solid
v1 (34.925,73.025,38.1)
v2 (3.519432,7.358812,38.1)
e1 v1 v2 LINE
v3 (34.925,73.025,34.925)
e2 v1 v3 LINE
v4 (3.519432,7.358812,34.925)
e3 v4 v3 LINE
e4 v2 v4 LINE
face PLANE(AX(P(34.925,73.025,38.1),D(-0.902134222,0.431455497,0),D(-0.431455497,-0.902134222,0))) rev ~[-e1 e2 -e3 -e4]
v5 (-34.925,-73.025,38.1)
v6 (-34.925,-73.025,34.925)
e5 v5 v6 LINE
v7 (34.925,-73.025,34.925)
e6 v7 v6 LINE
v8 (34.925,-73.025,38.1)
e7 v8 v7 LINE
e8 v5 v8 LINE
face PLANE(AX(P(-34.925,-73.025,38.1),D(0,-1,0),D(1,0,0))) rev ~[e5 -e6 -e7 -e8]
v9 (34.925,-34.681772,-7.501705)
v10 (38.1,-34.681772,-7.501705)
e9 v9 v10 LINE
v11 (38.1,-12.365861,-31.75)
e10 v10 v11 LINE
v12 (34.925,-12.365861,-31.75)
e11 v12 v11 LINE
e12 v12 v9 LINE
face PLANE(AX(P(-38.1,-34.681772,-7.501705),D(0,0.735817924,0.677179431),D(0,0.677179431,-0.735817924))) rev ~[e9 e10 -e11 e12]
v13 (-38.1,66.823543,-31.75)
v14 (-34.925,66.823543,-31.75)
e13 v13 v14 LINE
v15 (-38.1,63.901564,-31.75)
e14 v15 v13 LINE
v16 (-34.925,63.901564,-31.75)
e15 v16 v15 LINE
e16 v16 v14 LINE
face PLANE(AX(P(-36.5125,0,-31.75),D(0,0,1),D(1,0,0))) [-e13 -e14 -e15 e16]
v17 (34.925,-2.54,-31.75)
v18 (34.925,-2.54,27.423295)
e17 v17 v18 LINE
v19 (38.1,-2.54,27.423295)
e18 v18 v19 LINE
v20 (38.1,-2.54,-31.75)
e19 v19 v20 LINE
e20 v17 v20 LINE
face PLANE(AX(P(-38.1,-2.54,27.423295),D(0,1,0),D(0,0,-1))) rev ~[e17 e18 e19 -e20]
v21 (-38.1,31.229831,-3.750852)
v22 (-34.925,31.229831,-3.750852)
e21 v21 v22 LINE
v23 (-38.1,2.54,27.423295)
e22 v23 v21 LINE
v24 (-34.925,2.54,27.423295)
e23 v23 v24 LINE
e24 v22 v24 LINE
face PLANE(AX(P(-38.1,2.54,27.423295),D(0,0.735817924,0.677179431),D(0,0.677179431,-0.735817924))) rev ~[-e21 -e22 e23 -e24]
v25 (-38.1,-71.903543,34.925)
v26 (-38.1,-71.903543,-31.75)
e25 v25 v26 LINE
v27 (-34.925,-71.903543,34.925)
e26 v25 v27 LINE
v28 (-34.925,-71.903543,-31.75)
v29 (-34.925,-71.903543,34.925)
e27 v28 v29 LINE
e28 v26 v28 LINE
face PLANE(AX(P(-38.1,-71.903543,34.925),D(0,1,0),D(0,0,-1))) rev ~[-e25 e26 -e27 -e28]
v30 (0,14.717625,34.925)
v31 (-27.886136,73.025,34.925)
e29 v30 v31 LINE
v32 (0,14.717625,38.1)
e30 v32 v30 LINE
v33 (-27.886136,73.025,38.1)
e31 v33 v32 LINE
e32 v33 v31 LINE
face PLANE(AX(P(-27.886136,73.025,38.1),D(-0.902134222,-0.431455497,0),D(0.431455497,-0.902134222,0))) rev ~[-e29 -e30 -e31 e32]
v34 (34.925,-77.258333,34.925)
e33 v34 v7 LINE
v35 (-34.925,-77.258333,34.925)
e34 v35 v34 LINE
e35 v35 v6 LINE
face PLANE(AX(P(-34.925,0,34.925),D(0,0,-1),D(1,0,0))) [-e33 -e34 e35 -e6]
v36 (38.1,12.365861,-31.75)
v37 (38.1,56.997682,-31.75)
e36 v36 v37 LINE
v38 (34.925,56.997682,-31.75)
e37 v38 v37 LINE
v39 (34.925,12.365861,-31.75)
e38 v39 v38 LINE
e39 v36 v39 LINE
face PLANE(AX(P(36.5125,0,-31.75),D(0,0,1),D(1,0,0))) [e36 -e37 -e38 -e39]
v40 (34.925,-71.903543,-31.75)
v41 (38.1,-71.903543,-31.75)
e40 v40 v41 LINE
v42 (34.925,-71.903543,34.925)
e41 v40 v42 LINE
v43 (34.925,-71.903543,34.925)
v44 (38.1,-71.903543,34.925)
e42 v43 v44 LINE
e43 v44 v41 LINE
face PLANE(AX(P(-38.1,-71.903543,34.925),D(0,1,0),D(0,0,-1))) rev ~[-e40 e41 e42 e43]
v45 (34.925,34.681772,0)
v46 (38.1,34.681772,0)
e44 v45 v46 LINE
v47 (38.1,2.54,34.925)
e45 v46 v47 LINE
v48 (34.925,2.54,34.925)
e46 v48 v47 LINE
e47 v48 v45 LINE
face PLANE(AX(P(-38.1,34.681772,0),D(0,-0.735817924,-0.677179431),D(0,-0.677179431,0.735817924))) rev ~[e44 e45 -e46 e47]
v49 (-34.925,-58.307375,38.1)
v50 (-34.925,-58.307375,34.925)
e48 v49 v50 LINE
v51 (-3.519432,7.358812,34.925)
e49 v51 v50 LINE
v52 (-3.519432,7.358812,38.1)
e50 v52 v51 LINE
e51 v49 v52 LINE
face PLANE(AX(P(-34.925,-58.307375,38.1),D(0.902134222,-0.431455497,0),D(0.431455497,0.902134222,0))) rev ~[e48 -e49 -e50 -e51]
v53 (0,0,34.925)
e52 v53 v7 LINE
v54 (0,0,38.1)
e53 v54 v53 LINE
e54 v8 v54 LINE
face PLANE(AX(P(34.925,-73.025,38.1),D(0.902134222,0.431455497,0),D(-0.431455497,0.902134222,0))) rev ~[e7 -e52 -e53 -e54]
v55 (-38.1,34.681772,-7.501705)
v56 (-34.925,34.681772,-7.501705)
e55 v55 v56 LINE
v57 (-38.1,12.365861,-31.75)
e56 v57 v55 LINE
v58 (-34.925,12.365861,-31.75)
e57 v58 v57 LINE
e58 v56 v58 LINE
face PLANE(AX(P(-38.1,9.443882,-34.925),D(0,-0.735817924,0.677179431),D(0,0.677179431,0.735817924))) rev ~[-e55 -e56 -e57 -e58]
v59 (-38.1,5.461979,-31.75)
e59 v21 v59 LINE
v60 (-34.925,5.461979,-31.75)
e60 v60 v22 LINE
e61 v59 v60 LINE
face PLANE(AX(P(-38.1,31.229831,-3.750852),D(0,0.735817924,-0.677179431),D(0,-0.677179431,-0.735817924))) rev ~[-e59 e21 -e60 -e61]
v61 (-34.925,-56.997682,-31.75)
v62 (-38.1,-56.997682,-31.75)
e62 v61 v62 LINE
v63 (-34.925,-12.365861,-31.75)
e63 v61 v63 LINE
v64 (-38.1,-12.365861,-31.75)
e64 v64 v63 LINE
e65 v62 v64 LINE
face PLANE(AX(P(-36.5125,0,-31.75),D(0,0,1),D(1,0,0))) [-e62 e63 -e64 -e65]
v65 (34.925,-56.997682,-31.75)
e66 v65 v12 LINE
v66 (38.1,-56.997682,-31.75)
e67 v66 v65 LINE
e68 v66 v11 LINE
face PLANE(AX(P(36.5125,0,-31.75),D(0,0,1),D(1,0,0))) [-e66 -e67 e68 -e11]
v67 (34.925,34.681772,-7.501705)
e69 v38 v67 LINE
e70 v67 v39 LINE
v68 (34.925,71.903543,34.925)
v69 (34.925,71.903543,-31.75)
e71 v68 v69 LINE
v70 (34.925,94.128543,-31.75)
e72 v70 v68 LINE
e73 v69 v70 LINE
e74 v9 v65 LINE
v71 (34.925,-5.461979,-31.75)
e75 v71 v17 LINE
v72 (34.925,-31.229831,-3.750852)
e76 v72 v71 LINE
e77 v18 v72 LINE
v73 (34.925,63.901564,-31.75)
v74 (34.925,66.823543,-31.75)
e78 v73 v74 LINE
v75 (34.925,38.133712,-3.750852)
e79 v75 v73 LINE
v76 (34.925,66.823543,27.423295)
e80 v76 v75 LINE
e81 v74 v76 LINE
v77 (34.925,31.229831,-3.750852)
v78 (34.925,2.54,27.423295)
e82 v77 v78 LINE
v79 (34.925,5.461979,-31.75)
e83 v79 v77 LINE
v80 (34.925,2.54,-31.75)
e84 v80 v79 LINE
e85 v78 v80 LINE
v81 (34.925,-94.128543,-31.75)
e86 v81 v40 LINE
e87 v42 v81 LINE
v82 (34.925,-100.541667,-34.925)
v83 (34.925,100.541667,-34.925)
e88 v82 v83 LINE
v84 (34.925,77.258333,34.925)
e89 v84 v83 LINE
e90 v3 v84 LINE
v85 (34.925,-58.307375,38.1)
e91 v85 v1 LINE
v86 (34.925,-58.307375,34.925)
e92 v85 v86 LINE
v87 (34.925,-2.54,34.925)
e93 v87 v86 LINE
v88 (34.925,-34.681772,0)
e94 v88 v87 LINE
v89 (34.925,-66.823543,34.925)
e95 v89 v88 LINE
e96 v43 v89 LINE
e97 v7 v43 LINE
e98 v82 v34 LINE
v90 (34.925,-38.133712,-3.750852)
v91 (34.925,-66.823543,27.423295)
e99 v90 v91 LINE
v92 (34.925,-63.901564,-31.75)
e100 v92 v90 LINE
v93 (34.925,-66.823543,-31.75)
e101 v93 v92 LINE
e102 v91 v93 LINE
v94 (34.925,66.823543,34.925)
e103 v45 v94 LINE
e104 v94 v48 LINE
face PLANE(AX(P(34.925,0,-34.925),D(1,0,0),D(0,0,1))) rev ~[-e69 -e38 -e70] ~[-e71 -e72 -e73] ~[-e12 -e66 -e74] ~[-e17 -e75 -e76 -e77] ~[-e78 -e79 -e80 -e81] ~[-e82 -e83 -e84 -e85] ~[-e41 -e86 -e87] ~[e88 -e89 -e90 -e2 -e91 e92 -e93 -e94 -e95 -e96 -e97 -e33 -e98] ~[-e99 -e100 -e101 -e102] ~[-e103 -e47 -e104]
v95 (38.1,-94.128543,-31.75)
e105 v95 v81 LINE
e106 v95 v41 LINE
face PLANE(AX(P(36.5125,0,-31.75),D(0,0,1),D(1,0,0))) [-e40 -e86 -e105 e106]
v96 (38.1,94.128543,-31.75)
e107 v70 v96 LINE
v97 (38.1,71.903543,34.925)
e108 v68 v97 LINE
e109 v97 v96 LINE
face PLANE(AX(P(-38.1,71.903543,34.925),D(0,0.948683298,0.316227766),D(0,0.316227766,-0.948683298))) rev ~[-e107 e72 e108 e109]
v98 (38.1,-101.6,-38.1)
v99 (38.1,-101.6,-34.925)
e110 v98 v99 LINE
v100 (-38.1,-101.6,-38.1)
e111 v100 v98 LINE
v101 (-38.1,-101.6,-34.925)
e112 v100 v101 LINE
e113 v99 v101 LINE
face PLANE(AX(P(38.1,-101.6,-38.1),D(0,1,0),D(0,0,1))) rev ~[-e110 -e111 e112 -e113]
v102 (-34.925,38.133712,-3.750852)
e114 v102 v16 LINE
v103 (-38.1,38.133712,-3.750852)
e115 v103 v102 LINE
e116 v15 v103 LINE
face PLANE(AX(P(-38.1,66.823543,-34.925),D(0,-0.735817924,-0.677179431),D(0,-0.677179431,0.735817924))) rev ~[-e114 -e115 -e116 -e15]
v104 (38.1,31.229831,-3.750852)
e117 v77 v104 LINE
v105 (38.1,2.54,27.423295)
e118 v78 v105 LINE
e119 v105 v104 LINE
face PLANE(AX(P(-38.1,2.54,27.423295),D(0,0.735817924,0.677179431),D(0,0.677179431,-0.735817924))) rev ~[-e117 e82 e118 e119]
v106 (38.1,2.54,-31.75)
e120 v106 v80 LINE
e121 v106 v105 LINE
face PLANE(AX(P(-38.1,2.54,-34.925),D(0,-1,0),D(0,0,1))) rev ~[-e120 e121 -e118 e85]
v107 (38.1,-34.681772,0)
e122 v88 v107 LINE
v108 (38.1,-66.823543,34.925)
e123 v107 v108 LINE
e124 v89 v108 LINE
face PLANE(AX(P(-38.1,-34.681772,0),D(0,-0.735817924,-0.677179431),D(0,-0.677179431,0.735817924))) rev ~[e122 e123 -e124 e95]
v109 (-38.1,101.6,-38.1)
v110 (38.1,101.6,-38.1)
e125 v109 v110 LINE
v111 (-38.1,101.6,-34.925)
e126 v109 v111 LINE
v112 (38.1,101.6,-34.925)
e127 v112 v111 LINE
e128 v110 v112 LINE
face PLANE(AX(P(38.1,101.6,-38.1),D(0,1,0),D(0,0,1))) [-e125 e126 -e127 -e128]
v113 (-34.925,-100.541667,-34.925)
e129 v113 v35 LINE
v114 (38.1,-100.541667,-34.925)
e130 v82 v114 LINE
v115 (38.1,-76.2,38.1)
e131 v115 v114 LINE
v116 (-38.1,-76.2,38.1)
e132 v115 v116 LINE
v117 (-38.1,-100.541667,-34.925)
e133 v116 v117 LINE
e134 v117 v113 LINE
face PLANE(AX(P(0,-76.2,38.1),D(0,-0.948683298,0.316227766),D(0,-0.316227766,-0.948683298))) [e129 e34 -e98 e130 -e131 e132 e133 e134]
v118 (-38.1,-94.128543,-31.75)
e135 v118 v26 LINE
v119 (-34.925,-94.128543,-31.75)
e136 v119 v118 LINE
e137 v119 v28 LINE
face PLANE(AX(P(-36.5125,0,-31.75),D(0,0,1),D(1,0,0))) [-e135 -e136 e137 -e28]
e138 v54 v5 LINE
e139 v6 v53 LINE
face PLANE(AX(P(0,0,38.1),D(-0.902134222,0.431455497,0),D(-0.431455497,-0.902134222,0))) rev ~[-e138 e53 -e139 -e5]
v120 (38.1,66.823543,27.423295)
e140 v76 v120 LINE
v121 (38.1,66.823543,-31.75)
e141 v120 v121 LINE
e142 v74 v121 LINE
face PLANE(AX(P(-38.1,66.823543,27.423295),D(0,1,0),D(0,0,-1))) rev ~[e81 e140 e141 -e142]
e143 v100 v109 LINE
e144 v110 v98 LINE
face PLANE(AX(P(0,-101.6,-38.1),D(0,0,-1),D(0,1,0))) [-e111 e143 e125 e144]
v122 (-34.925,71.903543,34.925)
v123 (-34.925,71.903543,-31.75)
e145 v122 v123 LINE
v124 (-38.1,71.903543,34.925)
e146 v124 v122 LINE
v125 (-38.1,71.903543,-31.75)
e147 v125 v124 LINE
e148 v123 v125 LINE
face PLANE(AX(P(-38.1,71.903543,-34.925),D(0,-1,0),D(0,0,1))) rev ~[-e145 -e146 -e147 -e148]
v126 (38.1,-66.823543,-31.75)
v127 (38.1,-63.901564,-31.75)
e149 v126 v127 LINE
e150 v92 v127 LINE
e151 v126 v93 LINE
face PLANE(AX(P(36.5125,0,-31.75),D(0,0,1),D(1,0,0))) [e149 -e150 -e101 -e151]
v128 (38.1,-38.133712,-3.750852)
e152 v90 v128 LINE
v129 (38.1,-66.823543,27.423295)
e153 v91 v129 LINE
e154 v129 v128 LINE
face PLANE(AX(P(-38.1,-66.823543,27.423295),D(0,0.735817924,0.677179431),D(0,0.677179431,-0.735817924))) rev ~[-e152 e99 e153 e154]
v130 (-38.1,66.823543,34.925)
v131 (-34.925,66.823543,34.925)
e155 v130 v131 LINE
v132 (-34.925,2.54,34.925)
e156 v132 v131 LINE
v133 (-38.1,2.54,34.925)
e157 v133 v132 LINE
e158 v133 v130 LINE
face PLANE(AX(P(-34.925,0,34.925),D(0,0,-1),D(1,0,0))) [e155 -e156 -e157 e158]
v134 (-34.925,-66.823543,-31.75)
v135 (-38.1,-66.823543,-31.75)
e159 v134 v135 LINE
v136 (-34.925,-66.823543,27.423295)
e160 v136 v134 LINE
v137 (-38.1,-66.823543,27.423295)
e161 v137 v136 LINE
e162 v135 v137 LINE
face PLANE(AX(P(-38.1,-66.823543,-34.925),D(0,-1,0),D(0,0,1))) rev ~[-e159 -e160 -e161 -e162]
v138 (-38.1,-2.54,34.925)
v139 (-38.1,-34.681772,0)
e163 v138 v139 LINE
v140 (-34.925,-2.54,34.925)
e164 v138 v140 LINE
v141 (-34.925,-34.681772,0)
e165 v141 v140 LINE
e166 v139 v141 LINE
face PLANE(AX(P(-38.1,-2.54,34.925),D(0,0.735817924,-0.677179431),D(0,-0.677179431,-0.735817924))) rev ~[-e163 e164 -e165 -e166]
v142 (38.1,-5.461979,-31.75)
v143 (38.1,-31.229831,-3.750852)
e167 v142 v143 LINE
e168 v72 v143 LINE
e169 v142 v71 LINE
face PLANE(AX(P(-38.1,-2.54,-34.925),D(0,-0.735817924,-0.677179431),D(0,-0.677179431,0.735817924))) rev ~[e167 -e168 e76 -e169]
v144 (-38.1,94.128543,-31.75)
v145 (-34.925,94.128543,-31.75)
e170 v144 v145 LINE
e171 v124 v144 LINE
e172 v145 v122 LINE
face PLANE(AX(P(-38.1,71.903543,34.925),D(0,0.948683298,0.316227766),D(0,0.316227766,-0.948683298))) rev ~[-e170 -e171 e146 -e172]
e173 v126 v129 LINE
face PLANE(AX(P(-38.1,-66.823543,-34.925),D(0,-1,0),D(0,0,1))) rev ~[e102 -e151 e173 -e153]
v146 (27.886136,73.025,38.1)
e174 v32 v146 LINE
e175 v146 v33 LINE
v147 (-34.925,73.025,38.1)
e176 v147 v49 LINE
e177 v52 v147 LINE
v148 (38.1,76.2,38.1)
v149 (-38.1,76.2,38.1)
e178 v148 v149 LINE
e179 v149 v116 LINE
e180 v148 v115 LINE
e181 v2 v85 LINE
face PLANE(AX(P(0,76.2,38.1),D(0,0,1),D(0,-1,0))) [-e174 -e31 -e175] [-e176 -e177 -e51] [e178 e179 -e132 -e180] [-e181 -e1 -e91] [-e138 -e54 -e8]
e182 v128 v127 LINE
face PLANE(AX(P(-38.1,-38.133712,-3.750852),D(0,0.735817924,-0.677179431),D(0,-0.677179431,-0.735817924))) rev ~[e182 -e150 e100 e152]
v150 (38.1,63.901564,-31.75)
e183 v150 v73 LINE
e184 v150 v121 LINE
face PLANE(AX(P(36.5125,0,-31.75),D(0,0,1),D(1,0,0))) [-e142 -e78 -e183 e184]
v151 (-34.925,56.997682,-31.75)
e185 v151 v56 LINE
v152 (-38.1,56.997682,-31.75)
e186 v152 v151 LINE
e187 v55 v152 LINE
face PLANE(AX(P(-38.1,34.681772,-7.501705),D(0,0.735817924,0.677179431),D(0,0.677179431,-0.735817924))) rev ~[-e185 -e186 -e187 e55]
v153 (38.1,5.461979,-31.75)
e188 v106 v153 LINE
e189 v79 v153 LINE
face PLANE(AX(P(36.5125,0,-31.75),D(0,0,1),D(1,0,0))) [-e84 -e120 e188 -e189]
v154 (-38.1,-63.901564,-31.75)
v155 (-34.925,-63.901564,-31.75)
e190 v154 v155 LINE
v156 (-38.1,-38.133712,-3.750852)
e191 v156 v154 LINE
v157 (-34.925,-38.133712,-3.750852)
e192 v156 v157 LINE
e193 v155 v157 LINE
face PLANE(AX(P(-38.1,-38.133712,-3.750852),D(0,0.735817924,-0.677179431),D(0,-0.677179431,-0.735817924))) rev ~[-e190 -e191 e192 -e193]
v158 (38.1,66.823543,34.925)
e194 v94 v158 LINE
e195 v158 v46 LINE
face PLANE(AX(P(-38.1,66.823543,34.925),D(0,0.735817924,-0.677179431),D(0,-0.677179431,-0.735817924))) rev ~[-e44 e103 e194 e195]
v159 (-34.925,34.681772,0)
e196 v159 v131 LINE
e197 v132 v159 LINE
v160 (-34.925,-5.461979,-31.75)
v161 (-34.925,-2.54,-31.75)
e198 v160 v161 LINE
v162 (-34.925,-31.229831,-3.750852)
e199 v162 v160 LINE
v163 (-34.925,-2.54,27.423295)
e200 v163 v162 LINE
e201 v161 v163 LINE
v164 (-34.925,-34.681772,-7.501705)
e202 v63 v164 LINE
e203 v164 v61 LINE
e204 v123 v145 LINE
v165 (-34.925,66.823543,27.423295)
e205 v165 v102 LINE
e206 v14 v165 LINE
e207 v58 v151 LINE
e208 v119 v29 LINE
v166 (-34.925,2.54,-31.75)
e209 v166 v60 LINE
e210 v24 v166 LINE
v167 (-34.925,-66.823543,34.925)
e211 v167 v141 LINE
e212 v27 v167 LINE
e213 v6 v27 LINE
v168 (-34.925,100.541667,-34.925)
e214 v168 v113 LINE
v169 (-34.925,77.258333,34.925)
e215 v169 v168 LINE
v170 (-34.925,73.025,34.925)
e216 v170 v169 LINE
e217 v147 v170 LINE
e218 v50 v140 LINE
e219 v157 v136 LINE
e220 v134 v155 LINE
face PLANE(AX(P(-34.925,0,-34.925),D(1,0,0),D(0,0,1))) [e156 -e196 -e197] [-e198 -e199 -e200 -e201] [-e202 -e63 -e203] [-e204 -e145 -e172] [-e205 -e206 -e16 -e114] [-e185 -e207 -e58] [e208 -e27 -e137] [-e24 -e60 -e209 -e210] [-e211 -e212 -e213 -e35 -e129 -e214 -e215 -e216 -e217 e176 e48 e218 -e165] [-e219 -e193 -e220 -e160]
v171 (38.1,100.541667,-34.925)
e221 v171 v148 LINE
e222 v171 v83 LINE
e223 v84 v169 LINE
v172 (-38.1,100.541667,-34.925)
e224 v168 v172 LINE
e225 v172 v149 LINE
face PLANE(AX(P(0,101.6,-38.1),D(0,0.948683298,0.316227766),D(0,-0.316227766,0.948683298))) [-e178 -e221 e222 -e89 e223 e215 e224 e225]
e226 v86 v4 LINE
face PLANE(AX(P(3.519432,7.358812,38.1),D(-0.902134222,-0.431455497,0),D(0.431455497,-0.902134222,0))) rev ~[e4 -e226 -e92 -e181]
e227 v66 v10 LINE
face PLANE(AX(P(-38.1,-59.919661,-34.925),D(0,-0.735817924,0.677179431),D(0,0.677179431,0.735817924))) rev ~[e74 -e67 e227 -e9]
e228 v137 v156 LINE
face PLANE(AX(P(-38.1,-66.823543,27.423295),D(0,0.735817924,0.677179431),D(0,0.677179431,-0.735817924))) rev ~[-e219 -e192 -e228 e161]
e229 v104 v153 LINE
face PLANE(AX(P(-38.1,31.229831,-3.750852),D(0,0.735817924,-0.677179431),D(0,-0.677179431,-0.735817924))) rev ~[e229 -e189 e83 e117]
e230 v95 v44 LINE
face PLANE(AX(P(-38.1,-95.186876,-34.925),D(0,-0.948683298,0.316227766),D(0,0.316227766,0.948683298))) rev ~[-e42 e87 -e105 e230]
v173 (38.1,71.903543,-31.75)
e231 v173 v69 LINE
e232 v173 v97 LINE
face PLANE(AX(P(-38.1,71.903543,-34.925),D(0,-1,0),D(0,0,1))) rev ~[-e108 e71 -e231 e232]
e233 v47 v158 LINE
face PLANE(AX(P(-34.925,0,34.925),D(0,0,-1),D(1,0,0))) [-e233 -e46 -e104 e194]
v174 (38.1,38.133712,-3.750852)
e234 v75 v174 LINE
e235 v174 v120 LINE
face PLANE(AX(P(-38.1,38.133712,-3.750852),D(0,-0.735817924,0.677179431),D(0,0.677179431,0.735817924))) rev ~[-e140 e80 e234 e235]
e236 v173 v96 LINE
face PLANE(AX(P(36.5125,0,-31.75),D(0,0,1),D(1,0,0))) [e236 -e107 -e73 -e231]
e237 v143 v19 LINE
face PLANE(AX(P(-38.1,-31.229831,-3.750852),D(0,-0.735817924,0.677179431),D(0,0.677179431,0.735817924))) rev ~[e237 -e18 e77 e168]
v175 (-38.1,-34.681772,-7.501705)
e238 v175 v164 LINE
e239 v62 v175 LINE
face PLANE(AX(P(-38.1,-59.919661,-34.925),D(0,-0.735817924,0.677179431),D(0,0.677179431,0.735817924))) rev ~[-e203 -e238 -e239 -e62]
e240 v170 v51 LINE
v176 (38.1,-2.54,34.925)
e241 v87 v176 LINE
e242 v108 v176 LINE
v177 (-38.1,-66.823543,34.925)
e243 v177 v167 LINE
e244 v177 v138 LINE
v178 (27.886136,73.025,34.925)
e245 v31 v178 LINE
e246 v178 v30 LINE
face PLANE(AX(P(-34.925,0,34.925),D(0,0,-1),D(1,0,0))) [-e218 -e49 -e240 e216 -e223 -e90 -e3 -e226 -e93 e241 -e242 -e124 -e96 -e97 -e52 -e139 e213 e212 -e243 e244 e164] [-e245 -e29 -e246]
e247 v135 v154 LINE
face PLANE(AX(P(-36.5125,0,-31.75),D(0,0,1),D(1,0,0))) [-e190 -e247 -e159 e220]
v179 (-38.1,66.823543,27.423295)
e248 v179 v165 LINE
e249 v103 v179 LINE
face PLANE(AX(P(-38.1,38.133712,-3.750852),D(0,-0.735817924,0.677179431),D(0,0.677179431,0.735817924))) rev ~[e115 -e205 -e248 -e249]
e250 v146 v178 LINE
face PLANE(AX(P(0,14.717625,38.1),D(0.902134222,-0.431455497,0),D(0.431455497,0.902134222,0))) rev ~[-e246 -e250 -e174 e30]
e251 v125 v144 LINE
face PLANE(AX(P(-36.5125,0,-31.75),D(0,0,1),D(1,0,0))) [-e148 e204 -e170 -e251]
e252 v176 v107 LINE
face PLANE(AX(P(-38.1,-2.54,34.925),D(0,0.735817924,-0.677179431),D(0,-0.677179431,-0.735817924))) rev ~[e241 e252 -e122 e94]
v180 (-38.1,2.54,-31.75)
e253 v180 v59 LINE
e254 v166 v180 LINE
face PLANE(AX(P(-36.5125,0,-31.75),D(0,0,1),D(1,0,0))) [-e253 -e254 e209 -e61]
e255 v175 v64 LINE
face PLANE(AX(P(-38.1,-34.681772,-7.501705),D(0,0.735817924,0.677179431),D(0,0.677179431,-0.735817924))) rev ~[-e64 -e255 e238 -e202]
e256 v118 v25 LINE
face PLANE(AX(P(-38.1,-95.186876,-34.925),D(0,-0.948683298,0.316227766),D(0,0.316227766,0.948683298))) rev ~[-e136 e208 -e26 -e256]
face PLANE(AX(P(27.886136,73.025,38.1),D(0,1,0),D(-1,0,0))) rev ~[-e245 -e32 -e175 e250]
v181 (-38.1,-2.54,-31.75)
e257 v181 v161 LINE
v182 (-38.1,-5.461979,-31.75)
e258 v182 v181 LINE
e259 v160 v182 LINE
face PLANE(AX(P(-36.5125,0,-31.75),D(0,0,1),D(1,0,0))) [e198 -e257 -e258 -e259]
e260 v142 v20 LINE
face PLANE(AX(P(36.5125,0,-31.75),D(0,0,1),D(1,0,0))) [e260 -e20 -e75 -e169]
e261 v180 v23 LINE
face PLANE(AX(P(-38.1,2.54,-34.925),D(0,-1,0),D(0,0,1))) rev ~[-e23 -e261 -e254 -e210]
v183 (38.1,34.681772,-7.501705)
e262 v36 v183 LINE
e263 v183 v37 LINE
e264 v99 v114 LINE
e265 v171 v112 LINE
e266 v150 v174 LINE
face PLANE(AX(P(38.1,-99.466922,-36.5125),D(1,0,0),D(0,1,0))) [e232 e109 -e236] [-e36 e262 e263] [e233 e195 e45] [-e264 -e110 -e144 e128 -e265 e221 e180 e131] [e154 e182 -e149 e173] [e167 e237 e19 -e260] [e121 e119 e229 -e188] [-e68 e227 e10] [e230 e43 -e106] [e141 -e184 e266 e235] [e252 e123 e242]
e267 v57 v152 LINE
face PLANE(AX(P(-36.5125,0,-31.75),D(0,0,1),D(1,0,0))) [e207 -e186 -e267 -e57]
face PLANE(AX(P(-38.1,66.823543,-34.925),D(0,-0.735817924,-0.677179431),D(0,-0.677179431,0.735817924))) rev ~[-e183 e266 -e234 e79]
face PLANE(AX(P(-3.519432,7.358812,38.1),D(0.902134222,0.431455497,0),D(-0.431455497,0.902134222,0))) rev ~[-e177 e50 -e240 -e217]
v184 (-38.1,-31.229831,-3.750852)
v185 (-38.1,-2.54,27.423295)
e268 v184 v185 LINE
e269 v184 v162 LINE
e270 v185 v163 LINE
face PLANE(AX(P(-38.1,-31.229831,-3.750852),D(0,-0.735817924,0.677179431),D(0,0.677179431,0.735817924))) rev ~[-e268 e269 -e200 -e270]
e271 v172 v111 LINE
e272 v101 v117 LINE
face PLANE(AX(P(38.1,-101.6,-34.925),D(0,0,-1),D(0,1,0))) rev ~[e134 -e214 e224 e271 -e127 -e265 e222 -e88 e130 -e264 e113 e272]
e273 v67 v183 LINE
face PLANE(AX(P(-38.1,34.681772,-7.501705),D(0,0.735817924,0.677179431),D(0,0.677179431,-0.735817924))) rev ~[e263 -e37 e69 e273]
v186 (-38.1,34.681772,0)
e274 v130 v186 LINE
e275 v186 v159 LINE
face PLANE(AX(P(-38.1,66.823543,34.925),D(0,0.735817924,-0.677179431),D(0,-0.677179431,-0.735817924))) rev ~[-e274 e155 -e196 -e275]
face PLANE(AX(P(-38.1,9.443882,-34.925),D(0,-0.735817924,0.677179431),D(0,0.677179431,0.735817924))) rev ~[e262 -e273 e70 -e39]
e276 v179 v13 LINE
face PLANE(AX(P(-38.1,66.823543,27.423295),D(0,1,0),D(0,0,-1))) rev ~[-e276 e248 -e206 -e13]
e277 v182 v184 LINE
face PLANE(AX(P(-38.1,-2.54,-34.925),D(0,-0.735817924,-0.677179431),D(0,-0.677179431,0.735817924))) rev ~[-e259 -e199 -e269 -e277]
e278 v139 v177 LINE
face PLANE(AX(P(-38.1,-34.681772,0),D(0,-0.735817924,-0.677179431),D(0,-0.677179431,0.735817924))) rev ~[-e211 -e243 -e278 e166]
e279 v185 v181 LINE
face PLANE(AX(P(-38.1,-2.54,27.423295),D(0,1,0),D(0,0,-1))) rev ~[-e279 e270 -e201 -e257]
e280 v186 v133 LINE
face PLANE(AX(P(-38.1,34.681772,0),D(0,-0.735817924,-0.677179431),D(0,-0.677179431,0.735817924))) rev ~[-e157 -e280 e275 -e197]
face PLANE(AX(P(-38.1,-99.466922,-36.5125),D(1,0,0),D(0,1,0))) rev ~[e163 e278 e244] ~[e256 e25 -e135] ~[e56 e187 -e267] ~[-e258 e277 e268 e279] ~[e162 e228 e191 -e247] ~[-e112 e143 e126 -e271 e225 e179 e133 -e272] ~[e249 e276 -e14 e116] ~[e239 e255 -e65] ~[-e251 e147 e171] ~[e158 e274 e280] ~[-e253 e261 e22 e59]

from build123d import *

# Parameters (mm, degrees)
F1_DEPTH  = 38.1
F2_W      = 69.85
F2_H      = 69.85
F3_DEPTH  = 127
F5_DEPTH  = 76.2
F7_DEPTH  = 25.4
F8_W      = 3.175
F8_H      = 190.3737529909
F9_DEPTH  = 3.175
F10_W     = 4.2661567543
F10_H     = 3.175
F11_DEPTH = 76.2


with BuildPart() as f1:
    # F0 (on Right) → F1 (new body, symmetric)
    with BuildSketch(Plane.YZ):
        Polygon((-76.2, 38.1), (-101.6, -38.1), (101.6, -38.1), (76.2, 38.1), align=None)
    extrude(amount=F1_DEPTH, both=True)

    # F2 (on Front) → F3 (cut, symmetric)
    with BuildSketch(Plane.XZ):
        Rectangle(F2_W, F2_H)
    extrude(amount=F3_DEPTH, both=True, mode=Mode.SUBTRACT)

    # F4 (on face) → F5 (cut)
    with BuildSketch(Plane(origin=(-38.1, 0, 0), x_dir=(0, -1, 0), z_dir=(-1, 0, 0))):
        Polygon((-71.9035431621, 34.925), (-95.1868764954, -34.925), (-71.9035431621, -34.925), align=None)
        Polygon((-66.8235431621, 27.423295483), (-66.8235431621, -34.925), (-38.1337124981, -3.7508522585), align=None)
        Polygon((-2.54, 34.925), (-66.8235431621, 34.925), (-34.6817715811, 0), align=None)
        Polygon((-2.54, -34.925), (-2.54, 27.423295483), (-31.229830664, -3.7508522585), align=None)
        Polygon((-34.6817715811, -7.501704517), (-59.9196613281, -34.925), (-9.443881834, -34.925), align=None)
        Polygon((31.229830664, -3.7508522585), (2.54, 27.423295483), (2.54, -34.925), align=None)
        Polygon((66.8235431621, 34.925), (2.54, 34.925), (34.6817715811, 0), align=None)
        Polygon((66.8235431621, -34.925), (66.8235431621, 27.423295483), (38.1337124981, -3.7508522585), align=None)
        Polygon((34.6817715811, -7.501704517), (9.443881834, -34.925), (59.9196613281, -34.925), align=None)
        Polygon((95.1868764954, -34.925), (71.9035431621, 34.925), (71.9035431621, -34.925), align=None)
    extrude(amount=-F5_DEPTH, mode=Mode.SUBTRACT)

    # F6 (on face) → F7 (cut)
    with BuildSketch(Plane.XY.offset(38.1)):
        Polygon((-34.925, 73.025), (-34.925, -58.3073754949), (-3.5194319469, 7.3588122526), align=None)
        Polygon((-34.925, -73.025), (34.925, -73.025), (0, 0), align=None)
        Polygon((3.5194319469, 7.3588122526), (34.925, -58.3073754949), (34.925, 73.025), align=None)
        Polygon((0, 14.7176245051), (27.8861361062, 73.025), (-27.8861361062, 73.025), align=None)
    extrude(amount=-F7_DEPTH, mode=Mode.SUBTRACT)

    # F8 (on face) → F9 (join)
    with BuildSketch(Plane.XY.offset(-34.925)):
        with Locations((-36.5125, 0)):
            Rectangle(F8_W, F8_H)
        with Locations((36.5125, 0)):
            Rectangle(F8_W, F8_H)
    extrude(amount=F9_DEPTH)

    # F10 (on face) → F11 (join)
    with BuildSketch(Plane.YZ.offset(38.1)):
        with Locations((-99.4669216229, -36.5125)):
            Rectangle(F10_W, F10_H)
        with Locations((99.4669216229, -36.5125)):
            Rectangle(F10_W, F10_H)
    extrude(amount=-F11_DEPTH)


solid = f1.part
